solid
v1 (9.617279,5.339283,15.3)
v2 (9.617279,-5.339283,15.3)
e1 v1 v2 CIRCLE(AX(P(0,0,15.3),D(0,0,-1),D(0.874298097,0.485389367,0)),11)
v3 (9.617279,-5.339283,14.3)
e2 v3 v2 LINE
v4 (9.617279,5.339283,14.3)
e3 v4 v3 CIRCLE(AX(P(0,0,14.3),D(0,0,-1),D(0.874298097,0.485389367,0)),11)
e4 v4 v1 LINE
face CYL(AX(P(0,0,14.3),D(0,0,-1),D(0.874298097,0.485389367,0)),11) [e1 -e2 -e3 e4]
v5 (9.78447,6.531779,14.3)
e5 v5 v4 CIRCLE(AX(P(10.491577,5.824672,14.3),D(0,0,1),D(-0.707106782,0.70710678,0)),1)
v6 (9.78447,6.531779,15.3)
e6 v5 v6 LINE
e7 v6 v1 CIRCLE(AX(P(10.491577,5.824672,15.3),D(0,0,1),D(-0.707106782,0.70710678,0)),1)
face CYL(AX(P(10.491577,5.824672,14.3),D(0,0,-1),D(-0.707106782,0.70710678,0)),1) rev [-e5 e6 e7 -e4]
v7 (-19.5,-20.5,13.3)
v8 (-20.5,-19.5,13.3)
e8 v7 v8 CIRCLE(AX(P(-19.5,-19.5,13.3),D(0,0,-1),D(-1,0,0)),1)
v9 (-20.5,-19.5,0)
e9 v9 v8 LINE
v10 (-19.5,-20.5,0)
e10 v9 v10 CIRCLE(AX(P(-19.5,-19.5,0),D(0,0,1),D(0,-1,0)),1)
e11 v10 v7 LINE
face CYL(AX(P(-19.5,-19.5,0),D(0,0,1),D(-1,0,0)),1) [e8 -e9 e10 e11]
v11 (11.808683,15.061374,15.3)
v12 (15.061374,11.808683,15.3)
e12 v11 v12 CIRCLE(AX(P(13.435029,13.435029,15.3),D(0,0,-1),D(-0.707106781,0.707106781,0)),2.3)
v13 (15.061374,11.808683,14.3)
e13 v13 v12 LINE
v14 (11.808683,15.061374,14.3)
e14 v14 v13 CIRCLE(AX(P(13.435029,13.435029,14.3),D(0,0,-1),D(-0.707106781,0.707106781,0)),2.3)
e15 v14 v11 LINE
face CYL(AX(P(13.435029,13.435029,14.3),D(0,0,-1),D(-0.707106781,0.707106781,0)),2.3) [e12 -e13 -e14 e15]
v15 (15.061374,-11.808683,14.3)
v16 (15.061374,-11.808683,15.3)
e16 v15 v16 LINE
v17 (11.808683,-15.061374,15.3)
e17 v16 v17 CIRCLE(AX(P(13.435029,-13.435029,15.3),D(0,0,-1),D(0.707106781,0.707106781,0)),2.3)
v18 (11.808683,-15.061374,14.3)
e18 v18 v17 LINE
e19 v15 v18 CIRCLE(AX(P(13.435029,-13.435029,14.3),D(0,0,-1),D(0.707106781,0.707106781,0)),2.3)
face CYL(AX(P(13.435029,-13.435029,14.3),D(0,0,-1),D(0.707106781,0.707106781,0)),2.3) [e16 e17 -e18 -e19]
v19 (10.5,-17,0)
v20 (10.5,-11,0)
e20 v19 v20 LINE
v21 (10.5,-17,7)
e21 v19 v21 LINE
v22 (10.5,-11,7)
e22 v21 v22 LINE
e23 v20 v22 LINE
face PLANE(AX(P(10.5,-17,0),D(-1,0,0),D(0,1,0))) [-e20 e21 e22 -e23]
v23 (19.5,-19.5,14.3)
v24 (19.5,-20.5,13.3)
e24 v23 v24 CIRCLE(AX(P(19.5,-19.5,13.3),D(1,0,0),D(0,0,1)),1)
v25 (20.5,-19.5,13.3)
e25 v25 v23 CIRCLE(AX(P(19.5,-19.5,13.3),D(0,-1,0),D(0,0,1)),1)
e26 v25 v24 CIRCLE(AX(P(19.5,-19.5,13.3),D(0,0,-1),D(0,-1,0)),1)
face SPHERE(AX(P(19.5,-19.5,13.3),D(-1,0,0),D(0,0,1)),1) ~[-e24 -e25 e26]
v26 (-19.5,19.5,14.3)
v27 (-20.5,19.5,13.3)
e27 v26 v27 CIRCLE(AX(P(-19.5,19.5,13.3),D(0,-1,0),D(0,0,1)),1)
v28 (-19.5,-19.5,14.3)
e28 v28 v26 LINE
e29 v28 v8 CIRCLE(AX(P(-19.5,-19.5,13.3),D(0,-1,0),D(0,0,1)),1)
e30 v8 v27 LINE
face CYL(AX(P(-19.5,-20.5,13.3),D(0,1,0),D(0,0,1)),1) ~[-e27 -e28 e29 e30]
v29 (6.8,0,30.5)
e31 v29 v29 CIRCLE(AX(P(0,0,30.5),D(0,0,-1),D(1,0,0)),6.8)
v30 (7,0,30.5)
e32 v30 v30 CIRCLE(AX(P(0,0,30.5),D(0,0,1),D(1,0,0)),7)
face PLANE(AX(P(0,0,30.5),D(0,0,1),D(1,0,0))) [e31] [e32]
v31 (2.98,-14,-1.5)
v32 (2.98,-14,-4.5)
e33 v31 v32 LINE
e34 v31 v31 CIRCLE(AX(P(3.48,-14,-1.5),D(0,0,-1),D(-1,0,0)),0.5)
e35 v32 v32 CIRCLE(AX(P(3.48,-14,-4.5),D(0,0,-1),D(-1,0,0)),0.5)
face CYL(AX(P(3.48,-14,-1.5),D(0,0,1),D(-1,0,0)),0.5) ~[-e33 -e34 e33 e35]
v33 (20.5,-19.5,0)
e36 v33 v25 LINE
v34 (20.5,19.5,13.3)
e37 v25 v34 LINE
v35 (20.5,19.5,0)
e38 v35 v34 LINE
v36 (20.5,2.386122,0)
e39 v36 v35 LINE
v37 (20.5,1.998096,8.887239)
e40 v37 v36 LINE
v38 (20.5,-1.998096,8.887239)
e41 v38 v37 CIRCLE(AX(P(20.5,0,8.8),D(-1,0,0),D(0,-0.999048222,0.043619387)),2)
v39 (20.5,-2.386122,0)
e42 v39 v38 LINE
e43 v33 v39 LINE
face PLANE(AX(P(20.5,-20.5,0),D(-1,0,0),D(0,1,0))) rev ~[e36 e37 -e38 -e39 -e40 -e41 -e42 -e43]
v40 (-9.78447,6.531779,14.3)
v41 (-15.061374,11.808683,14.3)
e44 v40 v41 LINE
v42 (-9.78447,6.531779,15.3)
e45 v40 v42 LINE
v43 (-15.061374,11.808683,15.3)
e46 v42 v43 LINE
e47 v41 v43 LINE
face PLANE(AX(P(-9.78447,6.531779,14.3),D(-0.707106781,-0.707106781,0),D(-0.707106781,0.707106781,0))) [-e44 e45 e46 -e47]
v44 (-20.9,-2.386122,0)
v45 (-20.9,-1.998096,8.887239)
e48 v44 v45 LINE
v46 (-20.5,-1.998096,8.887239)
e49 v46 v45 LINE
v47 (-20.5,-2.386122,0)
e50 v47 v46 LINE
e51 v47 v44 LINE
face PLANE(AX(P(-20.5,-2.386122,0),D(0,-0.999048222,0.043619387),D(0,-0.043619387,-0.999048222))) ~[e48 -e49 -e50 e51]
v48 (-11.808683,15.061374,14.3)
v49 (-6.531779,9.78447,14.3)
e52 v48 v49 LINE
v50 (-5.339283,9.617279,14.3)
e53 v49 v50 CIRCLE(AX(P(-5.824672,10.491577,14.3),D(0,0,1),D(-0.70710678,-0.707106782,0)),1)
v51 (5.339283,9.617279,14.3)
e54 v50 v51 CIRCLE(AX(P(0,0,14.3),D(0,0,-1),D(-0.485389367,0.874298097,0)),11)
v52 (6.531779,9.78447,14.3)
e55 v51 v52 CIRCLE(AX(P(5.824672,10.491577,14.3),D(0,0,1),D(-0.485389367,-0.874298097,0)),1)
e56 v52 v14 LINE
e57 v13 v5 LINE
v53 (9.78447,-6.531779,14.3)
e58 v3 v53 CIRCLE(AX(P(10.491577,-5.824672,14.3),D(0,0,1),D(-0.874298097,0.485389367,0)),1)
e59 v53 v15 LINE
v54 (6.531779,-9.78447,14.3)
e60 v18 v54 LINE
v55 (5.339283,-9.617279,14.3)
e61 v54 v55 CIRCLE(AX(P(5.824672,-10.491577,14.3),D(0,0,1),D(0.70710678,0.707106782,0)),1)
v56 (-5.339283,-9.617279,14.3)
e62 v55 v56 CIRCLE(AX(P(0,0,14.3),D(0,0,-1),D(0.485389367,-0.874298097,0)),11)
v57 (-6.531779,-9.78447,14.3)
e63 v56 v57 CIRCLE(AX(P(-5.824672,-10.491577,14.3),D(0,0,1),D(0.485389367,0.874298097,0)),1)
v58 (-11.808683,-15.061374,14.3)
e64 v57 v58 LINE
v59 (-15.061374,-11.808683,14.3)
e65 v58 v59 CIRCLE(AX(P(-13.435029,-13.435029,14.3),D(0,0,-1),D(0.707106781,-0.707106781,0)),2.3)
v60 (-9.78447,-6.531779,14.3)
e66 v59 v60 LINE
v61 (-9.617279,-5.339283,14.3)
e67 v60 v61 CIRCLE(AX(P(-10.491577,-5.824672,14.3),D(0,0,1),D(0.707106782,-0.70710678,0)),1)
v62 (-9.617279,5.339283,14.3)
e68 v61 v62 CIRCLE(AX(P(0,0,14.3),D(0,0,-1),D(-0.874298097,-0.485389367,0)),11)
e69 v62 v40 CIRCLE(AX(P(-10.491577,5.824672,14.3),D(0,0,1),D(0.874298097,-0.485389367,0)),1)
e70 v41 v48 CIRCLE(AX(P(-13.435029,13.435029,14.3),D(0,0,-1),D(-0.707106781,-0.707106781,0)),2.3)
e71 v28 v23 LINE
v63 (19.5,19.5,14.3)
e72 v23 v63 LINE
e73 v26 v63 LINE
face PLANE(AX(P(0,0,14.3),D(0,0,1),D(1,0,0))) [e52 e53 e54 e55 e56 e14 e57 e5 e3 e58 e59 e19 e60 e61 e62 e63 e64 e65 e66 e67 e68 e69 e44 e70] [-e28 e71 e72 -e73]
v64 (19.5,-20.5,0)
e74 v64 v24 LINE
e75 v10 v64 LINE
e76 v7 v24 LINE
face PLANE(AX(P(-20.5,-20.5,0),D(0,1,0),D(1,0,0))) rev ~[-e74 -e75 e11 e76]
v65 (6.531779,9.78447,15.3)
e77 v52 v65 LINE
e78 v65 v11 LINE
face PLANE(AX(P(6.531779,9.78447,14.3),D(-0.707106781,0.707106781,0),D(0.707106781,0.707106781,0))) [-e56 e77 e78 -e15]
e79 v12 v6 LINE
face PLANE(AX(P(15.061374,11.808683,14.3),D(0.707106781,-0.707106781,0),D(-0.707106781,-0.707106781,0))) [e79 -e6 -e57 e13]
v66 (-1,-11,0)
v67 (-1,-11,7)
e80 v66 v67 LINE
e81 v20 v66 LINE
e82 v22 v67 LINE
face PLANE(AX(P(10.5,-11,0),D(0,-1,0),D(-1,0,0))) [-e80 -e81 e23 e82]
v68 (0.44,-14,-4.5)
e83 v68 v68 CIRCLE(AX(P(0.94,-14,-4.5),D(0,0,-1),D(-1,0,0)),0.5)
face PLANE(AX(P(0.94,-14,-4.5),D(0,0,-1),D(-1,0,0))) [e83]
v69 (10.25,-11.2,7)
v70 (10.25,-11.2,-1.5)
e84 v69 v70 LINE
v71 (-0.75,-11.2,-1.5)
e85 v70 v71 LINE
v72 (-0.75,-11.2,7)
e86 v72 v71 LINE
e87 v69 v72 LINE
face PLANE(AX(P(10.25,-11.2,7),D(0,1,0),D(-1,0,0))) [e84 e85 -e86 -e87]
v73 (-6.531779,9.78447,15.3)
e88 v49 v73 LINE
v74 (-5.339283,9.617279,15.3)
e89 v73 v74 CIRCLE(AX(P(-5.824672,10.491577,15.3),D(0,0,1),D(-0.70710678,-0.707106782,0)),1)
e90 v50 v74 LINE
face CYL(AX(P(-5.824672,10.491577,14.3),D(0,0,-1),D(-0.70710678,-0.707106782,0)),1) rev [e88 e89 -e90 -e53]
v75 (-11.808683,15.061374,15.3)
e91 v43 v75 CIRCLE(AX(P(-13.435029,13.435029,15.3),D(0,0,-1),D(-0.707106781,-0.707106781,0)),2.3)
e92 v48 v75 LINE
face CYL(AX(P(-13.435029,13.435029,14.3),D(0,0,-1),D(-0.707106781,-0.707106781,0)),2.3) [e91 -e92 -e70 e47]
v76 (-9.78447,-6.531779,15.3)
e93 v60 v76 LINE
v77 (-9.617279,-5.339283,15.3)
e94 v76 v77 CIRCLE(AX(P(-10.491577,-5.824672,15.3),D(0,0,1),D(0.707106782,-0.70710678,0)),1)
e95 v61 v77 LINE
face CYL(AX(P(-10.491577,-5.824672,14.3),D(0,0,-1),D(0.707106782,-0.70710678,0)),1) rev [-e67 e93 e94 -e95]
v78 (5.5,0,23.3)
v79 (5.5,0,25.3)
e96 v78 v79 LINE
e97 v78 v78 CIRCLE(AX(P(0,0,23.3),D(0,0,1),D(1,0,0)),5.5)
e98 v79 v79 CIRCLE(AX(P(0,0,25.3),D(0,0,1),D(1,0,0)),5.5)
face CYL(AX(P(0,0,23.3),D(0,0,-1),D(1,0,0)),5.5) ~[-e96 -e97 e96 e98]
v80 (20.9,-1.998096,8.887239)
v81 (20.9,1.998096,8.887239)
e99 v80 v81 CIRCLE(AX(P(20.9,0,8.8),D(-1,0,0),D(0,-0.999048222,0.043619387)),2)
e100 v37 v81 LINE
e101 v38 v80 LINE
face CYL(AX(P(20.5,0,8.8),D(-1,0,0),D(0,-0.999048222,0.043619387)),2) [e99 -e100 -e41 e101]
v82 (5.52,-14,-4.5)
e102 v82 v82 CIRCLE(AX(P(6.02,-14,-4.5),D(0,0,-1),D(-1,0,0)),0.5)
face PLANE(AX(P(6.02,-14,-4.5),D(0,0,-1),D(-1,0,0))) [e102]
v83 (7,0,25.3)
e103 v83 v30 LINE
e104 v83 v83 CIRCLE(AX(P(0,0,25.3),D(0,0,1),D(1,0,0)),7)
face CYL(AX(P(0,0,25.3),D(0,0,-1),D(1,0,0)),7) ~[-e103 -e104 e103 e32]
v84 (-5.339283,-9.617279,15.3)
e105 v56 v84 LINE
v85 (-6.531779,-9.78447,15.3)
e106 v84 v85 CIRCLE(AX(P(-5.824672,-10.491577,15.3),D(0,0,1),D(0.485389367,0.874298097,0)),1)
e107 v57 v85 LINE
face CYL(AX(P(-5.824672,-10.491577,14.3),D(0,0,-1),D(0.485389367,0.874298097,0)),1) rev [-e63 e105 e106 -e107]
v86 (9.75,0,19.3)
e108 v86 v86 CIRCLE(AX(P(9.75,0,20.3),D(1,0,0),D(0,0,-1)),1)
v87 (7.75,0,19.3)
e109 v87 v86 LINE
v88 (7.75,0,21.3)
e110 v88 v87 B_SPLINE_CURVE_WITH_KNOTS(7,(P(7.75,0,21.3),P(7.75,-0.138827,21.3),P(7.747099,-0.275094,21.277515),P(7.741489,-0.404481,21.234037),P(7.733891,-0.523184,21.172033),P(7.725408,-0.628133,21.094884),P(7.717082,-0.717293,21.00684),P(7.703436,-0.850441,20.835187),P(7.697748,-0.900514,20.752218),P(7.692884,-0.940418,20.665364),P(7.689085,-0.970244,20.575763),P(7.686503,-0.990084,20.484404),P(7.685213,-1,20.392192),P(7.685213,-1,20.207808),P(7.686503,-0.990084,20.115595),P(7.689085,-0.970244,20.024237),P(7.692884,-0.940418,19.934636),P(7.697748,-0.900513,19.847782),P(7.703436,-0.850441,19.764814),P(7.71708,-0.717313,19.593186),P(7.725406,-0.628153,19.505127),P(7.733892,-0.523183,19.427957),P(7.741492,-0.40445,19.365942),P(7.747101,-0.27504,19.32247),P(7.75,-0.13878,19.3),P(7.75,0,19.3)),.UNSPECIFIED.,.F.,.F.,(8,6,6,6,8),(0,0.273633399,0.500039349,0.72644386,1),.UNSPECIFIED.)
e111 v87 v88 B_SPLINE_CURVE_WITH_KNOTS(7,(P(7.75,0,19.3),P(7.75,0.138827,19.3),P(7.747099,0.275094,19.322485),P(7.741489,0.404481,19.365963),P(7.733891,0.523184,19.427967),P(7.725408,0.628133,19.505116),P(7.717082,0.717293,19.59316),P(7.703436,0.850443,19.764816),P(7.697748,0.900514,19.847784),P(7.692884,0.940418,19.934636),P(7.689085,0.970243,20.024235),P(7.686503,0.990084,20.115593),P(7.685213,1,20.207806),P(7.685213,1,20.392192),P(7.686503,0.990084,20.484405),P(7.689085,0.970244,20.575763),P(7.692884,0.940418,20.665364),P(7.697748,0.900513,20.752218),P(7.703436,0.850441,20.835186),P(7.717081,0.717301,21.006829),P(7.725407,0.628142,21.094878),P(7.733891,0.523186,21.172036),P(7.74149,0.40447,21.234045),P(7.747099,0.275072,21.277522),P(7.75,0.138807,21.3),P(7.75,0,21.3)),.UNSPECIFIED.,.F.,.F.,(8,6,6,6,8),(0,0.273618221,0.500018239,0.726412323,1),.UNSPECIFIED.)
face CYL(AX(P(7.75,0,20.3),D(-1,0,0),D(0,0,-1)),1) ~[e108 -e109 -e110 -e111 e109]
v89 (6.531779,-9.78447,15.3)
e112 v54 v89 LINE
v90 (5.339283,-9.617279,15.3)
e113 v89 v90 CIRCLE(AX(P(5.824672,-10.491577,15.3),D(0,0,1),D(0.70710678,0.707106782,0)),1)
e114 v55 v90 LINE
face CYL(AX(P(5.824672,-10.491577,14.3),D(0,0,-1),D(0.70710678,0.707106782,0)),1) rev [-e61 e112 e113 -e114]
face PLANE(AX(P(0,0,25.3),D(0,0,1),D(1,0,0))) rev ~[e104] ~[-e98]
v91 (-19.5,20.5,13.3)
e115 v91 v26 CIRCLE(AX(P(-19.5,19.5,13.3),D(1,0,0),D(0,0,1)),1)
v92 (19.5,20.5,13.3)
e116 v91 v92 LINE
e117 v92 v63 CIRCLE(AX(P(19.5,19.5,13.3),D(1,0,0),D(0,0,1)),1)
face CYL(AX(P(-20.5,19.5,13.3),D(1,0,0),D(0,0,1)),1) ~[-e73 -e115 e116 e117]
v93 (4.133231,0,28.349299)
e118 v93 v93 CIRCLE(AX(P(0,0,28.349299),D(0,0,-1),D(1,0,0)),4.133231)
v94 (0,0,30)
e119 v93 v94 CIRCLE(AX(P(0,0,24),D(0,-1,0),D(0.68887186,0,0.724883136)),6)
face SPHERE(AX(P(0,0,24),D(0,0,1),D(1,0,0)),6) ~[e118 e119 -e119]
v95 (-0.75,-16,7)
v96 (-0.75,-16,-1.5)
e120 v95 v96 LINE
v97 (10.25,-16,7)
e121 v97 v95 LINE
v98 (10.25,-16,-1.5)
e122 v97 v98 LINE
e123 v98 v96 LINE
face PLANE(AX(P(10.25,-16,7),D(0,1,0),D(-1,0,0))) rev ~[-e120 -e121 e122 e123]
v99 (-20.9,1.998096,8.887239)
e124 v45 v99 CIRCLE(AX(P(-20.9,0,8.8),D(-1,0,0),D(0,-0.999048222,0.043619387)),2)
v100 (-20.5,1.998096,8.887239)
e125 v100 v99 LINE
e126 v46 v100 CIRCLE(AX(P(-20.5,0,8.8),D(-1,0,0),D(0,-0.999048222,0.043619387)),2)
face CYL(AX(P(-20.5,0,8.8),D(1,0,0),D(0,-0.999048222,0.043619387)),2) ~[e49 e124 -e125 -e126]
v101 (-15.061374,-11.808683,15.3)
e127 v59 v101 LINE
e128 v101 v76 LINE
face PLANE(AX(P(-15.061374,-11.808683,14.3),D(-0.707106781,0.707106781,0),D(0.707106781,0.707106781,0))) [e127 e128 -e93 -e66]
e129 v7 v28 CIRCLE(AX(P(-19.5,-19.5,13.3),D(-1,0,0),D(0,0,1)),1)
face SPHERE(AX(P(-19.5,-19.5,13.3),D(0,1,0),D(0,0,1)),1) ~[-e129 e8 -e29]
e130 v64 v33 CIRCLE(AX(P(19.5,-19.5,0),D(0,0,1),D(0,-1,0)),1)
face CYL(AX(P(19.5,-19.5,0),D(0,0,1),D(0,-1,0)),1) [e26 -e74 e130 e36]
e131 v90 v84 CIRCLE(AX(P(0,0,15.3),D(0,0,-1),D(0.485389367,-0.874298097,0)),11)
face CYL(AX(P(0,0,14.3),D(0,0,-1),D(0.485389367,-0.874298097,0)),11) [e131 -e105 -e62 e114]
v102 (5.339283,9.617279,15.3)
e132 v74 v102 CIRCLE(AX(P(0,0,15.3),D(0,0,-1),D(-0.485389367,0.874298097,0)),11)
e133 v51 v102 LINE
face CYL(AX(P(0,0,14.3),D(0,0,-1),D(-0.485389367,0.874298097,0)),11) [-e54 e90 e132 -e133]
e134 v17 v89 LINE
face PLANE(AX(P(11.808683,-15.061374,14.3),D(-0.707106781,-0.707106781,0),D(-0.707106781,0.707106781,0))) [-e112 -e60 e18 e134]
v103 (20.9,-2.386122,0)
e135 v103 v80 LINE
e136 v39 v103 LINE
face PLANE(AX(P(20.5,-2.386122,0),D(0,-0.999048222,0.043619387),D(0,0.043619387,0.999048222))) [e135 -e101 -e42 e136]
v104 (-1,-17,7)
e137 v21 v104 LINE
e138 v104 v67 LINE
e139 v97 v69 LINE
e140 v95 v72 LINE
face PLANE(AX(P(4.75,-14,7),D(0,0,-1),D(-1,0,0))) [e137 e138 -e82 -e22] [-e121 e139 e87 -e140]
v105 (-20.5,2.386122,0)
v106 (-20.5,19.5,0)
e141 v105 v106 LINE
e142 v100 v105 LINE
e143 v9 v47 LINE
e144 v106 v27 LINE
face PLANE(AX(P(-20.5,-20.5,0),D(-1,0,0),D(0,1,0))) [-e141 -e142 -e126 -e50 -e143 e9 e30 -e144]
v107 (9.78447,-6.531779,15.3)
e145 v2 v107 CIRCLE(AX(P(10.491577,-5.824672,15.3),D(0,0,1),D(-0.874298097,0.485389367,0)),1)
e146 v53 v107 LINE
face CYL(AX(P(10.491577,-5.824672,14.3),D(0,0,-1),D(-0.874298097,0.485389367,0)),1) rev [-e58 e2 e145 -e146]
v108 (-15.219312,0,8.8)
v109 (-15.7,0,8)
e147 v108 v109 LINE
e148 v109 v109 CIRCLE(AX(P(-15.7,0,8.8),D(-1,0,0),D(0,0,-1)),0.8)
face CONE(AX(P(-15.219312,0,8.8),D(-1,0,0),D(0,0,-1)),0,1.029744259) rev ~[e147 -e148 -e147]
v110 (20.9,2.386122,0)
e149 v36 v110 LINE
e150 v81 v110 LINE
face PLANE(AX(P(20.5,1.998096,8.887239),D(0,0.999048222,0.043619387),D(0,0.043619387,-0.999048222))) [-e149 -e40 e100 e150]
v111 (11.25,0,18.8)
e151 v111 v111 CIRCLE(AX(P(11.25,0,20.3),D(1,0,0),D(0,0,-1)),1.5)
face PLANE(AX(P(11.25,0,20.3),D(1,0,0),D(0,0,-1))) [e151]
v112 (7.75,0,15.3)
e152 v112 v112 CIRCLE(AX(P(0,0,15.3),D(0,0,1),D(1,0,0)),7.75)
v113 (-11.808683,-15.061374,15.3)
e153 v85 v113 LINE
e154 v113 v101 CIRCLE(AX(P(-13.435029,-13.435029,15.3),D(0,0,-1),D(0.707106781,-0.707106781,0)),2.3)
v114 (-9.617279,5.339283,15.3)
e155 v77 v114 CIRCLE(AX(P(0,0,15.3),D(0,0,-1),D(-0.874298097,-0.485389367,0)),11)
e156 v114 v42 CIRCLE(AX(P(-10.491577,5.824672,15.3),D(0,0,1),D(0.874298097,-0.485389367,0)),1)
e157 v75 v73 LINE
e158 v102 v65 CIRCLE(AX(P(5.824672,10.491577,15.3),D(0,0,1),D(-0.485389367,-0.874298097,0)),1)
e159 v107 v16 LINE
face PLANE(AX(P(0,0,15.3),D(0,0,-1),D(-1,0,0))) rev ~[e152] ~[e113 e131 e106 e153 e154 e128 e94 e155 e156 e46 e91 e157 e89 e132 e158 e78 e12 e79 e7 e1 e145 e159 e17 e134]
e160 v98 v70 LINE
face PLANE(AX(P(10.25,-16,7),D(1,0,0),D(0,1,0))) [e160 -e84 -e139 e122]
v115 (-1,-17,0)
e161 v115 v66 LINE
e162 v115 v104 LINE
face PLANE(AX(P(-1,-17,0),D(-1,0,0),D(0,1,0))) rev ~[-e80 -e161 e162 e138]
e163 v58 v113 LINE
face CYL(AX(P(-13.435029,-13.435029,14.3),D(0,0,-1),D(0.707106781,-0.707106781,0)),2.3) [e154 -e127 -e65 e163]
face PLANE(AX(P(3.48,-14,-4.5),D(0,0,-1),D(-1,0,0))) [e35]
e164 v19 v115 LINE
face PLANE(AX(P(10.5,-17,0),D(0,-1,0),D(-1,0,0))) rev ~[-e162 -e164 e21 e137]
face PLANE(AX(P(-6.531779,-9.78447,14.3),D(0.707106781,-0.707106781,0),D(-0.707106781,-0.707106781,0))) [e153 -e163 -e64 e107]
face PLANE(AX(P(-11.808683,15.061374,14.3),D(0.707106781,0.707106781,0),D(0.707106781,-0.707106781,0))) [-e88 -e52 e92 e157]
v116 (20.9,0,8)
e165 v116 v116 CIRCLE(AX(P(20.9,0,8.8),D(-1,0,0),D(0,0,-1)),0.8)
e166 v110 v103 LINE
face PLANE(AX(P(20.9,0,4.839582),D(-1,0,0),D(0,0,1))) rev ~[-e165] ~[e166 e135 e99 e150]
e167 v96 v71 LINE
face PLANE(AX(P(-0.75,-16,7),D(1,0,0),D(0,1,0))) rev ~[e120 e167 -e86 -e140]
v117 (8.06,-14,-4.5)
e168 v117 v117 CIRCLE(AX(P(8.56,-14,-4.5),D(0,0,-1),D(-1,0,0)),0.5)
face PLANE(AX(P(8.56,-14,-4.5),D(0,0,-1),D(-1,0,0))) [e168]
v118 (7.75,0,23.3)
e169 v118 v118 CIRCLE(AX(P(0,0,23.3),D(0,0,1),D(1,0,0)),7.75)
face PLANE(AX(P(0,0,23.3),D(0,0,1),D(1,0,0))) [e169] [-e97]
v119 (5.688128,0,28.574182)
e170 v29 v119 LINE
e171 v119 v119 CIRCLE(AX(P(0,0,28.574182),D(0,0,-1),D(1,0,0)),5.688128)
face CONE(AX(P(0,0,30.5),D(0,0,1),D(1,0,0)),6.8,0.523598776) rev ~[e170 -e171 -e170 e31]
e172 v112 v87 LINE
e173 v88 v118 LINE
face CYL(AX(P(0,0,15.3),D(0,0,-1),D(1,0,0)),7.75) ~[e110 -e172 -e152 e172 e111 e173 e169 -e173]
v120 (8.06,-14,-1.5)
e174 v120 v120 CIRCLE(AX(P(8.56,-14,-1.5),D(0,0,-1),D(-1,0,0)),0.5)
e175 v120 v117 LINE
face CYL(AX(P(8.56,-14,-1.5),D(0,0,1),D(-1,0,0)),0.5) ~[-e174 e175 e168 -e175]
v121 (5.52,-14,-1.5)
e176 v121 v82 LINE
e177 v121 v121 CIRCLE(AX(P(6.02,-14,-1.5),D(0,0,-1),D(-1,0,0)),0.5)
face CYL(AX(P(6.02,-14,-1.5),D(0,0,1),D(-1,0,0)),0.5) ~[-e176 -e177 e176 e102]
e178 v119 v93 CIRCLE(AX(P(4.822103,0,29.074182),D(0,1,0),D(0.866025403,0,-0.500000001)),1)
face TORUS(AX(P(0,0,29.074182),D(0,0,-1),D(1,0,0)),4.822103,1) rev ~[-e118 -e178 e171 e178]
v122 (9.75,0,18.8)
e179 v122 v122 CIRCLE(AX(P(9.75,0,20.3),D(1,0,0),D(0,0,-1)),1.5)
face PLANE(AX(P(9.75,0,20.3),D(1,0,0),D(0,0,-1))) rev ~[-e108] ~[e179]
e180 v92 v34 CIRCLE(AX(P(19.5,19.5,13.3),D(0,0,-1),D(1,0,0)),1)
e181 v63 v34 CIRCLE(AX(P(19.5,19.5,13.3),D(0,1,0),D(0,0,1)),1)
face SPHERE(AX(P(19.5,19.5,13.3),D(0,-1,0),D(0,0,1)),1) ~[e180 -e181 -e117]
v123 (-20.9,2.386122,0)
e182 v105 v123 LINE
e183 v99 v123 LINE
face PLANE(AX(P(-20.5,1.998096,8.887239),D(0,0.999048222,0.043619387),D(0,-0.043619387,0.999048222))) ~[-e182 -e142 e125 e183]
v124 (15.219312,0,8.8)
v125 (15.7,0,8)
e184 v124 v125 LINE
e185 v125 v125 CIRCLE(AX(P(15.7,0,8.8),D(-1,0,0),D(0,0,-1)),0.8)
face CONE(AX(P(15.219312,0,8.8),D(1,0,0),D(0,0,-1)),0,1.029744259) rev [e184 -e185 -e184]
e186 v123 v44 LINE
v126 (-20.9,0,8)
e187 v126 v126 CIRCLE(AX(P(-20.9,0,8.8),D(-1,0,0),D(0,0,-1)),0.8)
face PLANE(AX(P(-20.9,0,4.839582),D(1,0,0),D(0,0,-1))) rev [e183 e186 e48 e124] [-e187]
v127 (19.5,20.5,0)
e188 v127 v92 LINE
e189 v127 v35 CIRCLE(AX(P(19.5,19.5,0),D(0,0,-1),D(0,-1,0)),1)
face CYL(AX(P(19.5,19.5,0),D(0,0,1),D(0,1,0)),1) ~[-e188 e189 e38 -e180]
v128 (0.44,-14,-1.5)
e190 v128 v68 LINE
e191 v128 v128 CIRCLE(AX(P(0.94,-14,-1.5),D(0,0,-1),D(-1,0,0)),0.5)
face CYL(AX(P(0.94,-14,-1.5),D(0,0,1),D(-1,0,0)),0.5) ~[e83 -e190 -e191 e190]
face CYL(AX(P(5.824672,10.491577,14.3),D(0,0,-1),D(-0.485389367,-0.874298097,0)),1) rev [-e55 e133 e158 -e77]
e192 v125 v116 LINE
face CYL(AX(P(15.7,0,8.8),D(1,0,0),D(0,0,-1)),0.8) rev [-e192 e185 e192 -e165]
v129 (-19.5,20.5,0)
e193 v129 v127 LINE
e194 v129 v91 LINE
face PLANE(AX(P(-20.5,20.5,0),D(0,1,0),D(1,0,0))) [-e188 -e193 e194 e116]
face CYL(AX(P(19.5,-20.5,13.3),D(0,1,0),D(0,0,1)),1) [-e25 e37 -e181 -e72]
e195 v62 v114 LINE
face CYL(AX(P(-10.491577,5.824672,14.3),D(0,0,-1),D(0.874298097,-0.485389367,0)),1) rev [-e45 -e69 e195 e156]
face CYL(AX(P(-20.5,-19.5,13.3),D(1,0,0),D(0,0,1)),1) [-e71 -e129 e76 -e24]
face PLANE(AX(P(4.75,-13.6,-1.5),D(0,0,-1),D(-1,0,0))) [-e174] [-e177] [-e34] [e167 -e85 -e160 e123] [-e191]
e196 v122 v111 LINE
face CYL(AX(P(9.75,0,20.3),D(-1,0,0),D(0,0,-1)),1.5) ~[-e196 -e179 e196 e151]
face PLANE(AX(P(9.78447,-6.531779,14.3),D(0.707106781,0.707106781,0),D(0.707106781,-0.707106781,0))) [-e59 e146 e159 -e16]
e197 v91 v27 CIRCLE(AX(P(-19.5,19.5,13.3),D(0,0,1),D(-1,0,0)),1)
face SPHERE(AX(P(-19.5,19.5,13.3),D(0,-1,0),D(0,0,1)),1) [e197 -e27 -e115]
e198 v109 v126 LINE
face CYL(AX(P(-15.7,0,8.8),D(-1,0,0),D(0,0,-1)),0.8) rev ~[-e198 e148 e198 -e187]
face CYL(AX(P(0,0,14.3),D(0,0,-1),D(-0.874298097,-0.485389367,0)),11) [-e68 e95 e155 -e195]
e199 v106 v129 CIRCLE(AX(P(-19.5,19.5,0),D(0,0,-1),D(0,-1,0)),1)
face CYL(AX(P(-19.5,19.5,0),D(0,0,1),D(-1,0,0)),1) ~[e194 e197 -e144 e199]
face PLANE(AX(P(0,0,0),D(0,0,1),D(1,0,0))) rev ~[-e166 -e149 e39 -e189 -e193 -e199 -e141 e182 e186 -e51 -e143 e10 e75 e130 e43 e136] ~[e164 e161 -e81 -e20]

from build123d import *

# Parameters (mm, degrees)
SKETCH_2_W                       = 41
SKETCH_2_H                       = 41
EXTRUDE_1_DEPTH                  = 14.3
EXTRUDE_2_DEPTH                  = 1
SKETCH_4_R                       = 7.75
EXTRUDE_3_DEPTH                  = 8
SKETCH_5_R                       = 5.5
EXTRUDE_4_DEPTH                  = 2
SKETCH_6_R                       = 7
EXTRUDE_5_DEPTH                  = 5.2
FILLET_1_R                       = 1
EXTRUDE_6_DEPTH                  = 0.4
SKETCH_11_W                      = 11.5
SKETCH_11_H                      = 6
CUT_EXTRUDE_1_DEPTH              = 7
SKETCH_12_W                      = 11
SKETCH_12_H                      = 4.8
EXTRUDE_7_DEPTH                  = 8.5
SKETCH_13_R                      = 0.5
EXTRUDE_8_DEPTH                  = 3
SKETCH_14_R                      = 1
EXTRUDE_9_DEPTH                  = 2
EXTRUDE_9_DIRECTION_2_REACH      = 48.597
EXTRUDE_9_DIRECTION_2_END_RADIUS = 7.75
SKETCH_15_R                      = 1.5
EXTRUDE_10_DEPTH                 = 1.5


with BuildPart() as part:
    # 草图2 → 凸台-拉伸1 (new body)
    with BuildSketch(Plane.XY):
        Rectangle(SKETCH_2_W, SKETCH_2_H)
    extrude(amount=EXTRUDE_1_DEPTH)

    # 草图3 → 凸台-拉伸2 (add)
    with BuildSketch(Plane.XY.offset(14.3)):
        with BuildLine():
            Line((-11.808683246, 15.061374439), (-6.531779188, 9.784470381))
            ThreePointArc((-6.531779188, 9.784470381), (-5.963517237, 9.501263014), (-5.339283039, 9.617279066))
            ThreePointArc((-5.339283039, 9.617279066), (0, 11), (5.339283039, 9.617279066))
            ThreePointArc((5.339283039, 9.617279066), (5.963517237, 9.501263014), (6.531779188, 9.784470381))
            Line((6.531779188, 9.784470381), (11.808683246, 15.061374439))
            ThreePointArc((11.808683246, 15.061374439), (15.061374439, 15.061374439), (15.061374439, 11.808683246))
            Line((15.061374439, 11.808683246), (9.784470381, 6.531779188))
            ThreePointArc((9.784470381, 6.531779188), (9.501263014, 5.963517237), (9.617279066, 5.339283039))
            ThreePointArc((9.617279066, 5.339283039), (11, 0), (9.617279066, -5.339283039))
            ThreePointArc((9.617279066, -5.339283039), (9.501263014, -5.963517237), (9.784470381, -6.531779188))
            Line((9.784470381, -6.531779188), (15.061374439, -11.808683246))
            ThreePointArc((15.061374439, -11.808683246), (15.061374439, -15.061374439), (11.808683246, -15.061374439))
            Line((11.808683246, -15.061374439), (6.531779188, -9.784470381))
            ThreePointArc((6.531779188, -9.784470381), (5.963517237, -9.501263014), (5.339283039, -9.617279066))
            ThreePointArc((5.339283039, -9.617279066), (0, -11), (-5.339283039, -9.617279066))
            ThreePointArc((-5.339283039, -9.617279066), (-5.963517237, -9.501263014), (-6.531779188, -9.784470381))
            Line((-6.531779188, -9.784470381), (-11.808683246, -15.061374439))
            ThreePointArc((-11.808683246, -15.061374439), (-15.061374439, -15.061374439), (-15.061374439, -11.808683246))
            Line((-15.061374439, -11.808683246), (-9.784470381, -6.531779188))
            ThreePointArc((-9.784470381, -6.531779188), (-9.501263014, -5.963517237), (-9.617279066, -5.339283039))
            ThreePointArc((-9.617279066, -5.339283039), (-11, 0), (-9.617279066, 5.339283039))
            ThreePointArc((-9.617279066, 5.339283039), (-9.501263014, 5.963517237), (-9.784470381, 6.531779188))
            Line((-9.784470381, 6.531779188), (-15.061374439, 11.808683246))
            ThreePointArc((-15.061374439, 11.808683246), (-15.061374439, 15.061374439), (-11.808683246, 15.061374439))
        make_face()
    extrude(amount=EXTRUDE_2_DEPTH)

    # 草图4 → 凸台-拉伸3 (add)
    with BuildSketch(Plane.XY.offset(15.3)):
        Circle(SKETCH_4_R)
    extrude(amount=EXTRUDE_3_DEPTH)

    # 草图5 → 凸台-拉伸4 (add)
    with BuildSketch(Plane.XY.offset(23.3)):
        Circle(SKETCH_5_R)
    extrude(amount=EXTRUDE_4_DEPTH)

    # 草图6 → 凸台-拉伸5 (add)
    with BuildSketch(Plane.XY.offset(25.3)):
        Circle(SKETCH_6_R)
    extrude(amount=EXTRUDE_5_DEPTH)

    # 草图7 → 切除-旋转3 (revolve, cut)
    with BuildSketch(Plane(origin=(0, 0, 0), x_dir=(1, 0, 0), z_dir=(0, 1, 0)), mode=Mode.PRIVATE) as cut_revolve_3_sk:
        with BuildLine():
            Line((-6.8, -30.5), (-5.688128428, -28.574181946))
            ThreePointArc((-5.688128428, -28.574181946), (-4.965242644, -28.084479441), (-4.133231164, -28.349298811))
            ThreePointArc((-4.133231164, -28.349298811), (-2.225332237, -29.572063929), (0, -30))
            Line((0, -30), (0, -30.5))
            Line((0, -30.5), (-6.8, -30.5))
        make_face()
    revolve(cut_revolve_3_sk.sketch.rotate(Axis((0, 0, 30.5), (0, 0, -1)), 180), axis=Axis((0, 0, 30.5), (0, 0, -1)), mode=Mode.SUBTRACT)

    # 圆角1
    fillet_1_edges = [part.edges().sort_by_distance(p)[0] for p in [
        (-20.5, 0, 14.3),
        (0, -20.5, 14.3),
        (20.5, 0, 14.3),
        (0, 20.5, 14.3),
        (20.5, -20.5, 7.15),
        (-20.5, -20.5, 7.15),
        (-20.5, 20.5, 7.15),
        (20.5, 20.5, 7.15),
    ]]
    fillet(fillet_1_edges, radius=FILLET_1_R)

    # 草图8 → 凸台-拉伸6 (add)
    with BuildSketch(Plane(origin=(20.5, 0, 0), x_dir=(0, 0, -1), z_dir=(1, 0, 0))):
        with BuildLine():
            Line((-8.887238775, 1.998096443), (0, 2.386121668))
            Line((0, 2.386121668), (0, -2.386121668))
            Line((0, -2.386121668), (-8.887238775, -1.998096443))
            ThreePointArc((-8.887238775, -1.998096443), (-10.8, 0), (-8.887238775, 1.998096443))
        make_face()
    extrude_6 = extrude(amount=EXTRUDE_6_DEPTH)

    # 草图10 → M2 螺纹孔1 (revolve, cut)
    with BuildSketch(Plane(origin=(20.9, 0, 8.8), x_dir=(0, 0, -1), z_dir=(0, 1, 0))):
        Polygon((0, 0), (0, 5.680688495), (0.8, 5.2), (0.8, 0), align=None)
    hole_wizard_m2_1 = revolve(axis=Axis((27.25, 0, 8.8), (-1, 0, 0)), mode=Mode.SUBTRACT)

    # 镜向1: 凸台-拉伸6, M2 螺纹孔1 across plane
    add(extrude_6.mirror(Plane(origin=(0, 0, 0), x_dir=(0, 0, 1), z_dir=(1, 0, 0))))
    add(hole_wizard_m2_1.mirror(Plane(origin=(0, 0, 0), x_dir=(0, 0, 1), z_dir=(1, 0, 0))), mode=Mode.SUBTRACT)

    # 草图11 → 切除-拉伸1 (cut)
    with BuildSketch(Plane(origin=(0, 0, 0), x_dir=(-1, 0, 0), z_dir=(0, 0, -1))):
        with Locations((-4.75, -14)):
            Rectangle(SKETCH_11_W, SKETCH_11_H)
    extrude(amount=-CUT_EXTRUDE_1_DEPTH, mode=Mode.SUBTRACT)

    # 草图12 → 凸台-拉伸7 (add)
    with BuildSketch(Plane(origin=(0, 0, 7), x_dir=(-1, 0, 0), z_dir=(0, 0, -1))):
        with Locations((-4.75, -13.6)):
            Rectangle(SKETCH_12_W, SKETCH_12_H)
    extrude(amount=EXTRUDE_7_DEPTH)

    # 草图13 → 凸台-拉伸8 (add)
    with BuildSketch(Plane(origin=(0, 0, -1.5), x_dir=(-1, 0, 0), z_dir=(0, 0, -1))):
        with Locations((-8.56, -14)):
            Circle(SKETCH_13_R)
        with Locations((-6.02, -14)):
            Circle(SKETCH_13_R)
        with Locations((-3.48, -14)):
            Circle(SKETCH_13_R)
        with Locations((-0.94, -14)):
            Circle(SKETCH_13_R)
    extrude(amount=EXTRUDE_8_DEPTH)

    # 草图14 → 凸台-拉伸9 (add)
    with BuildSketch(Plane(origin=(7.75, 0, 0), x_dir=(0, 0, -1), z_dir=(1, 0, 0))):
        with Locations((-20.3, 0)):
            Circle(SKETCH_14_R)
    extrude(amount=EXTRUDE_9_DEPTH)

    # 凸台-拉伸9 direction 2: up to this cylinder (the profile starts outside it)
    extrude_9_direction_2_end = Plane(origin=(0, 0, 20.3), z_dir=(0, 0, -1)) * Cylinder(EXTRUDE_9_DIRECTION_2_END_RADIUS, 113.694, mode=Mode.PRIVATE)
    # 草图14 → 凸台-拉伸9 direction 2 (add, up to the surface)
    with BuildSketch(Plane(origin=(7.75, 0, 0), x_dir=(0, 0, -1), z_dir=(1, 0, 0)), mode=Mode.PRIVATE) as extrude_9_direction_2_sk1:
        with Locations((-20.3, 0)):
            Circle(SKETCH_14_R)
    extrude_9_direction_2_tool1 = extrude(extrude_9_direction_2_sk1.sketch, amount=-EXTRUDE_9_DIRECTION_2_REACH, mode=Mode.PRIVATE) - extrude_9_direction_2_end
    add(extrude_9_direction_2_tool1.solids().sort_by_distance((7.75, 0, 20.3))[0])
    add(extrude_9_direction_2_tool1.solids().sort_by_distance((7.75, 0, 20.3))[1])

    # 草图15 → 凸台-拉伸10 (add)
    with BuildSketch(Plane(origin=(9.75, 0, 0), x_dir=(0, 0, -1), z_dir=(1, 0, 0))):
        with Locations((-20.3, 0)):
            Circle(SKETCH_15_R)
    extrude(amount=EXTRUDE_10_DEPTH)


solid = part.part
